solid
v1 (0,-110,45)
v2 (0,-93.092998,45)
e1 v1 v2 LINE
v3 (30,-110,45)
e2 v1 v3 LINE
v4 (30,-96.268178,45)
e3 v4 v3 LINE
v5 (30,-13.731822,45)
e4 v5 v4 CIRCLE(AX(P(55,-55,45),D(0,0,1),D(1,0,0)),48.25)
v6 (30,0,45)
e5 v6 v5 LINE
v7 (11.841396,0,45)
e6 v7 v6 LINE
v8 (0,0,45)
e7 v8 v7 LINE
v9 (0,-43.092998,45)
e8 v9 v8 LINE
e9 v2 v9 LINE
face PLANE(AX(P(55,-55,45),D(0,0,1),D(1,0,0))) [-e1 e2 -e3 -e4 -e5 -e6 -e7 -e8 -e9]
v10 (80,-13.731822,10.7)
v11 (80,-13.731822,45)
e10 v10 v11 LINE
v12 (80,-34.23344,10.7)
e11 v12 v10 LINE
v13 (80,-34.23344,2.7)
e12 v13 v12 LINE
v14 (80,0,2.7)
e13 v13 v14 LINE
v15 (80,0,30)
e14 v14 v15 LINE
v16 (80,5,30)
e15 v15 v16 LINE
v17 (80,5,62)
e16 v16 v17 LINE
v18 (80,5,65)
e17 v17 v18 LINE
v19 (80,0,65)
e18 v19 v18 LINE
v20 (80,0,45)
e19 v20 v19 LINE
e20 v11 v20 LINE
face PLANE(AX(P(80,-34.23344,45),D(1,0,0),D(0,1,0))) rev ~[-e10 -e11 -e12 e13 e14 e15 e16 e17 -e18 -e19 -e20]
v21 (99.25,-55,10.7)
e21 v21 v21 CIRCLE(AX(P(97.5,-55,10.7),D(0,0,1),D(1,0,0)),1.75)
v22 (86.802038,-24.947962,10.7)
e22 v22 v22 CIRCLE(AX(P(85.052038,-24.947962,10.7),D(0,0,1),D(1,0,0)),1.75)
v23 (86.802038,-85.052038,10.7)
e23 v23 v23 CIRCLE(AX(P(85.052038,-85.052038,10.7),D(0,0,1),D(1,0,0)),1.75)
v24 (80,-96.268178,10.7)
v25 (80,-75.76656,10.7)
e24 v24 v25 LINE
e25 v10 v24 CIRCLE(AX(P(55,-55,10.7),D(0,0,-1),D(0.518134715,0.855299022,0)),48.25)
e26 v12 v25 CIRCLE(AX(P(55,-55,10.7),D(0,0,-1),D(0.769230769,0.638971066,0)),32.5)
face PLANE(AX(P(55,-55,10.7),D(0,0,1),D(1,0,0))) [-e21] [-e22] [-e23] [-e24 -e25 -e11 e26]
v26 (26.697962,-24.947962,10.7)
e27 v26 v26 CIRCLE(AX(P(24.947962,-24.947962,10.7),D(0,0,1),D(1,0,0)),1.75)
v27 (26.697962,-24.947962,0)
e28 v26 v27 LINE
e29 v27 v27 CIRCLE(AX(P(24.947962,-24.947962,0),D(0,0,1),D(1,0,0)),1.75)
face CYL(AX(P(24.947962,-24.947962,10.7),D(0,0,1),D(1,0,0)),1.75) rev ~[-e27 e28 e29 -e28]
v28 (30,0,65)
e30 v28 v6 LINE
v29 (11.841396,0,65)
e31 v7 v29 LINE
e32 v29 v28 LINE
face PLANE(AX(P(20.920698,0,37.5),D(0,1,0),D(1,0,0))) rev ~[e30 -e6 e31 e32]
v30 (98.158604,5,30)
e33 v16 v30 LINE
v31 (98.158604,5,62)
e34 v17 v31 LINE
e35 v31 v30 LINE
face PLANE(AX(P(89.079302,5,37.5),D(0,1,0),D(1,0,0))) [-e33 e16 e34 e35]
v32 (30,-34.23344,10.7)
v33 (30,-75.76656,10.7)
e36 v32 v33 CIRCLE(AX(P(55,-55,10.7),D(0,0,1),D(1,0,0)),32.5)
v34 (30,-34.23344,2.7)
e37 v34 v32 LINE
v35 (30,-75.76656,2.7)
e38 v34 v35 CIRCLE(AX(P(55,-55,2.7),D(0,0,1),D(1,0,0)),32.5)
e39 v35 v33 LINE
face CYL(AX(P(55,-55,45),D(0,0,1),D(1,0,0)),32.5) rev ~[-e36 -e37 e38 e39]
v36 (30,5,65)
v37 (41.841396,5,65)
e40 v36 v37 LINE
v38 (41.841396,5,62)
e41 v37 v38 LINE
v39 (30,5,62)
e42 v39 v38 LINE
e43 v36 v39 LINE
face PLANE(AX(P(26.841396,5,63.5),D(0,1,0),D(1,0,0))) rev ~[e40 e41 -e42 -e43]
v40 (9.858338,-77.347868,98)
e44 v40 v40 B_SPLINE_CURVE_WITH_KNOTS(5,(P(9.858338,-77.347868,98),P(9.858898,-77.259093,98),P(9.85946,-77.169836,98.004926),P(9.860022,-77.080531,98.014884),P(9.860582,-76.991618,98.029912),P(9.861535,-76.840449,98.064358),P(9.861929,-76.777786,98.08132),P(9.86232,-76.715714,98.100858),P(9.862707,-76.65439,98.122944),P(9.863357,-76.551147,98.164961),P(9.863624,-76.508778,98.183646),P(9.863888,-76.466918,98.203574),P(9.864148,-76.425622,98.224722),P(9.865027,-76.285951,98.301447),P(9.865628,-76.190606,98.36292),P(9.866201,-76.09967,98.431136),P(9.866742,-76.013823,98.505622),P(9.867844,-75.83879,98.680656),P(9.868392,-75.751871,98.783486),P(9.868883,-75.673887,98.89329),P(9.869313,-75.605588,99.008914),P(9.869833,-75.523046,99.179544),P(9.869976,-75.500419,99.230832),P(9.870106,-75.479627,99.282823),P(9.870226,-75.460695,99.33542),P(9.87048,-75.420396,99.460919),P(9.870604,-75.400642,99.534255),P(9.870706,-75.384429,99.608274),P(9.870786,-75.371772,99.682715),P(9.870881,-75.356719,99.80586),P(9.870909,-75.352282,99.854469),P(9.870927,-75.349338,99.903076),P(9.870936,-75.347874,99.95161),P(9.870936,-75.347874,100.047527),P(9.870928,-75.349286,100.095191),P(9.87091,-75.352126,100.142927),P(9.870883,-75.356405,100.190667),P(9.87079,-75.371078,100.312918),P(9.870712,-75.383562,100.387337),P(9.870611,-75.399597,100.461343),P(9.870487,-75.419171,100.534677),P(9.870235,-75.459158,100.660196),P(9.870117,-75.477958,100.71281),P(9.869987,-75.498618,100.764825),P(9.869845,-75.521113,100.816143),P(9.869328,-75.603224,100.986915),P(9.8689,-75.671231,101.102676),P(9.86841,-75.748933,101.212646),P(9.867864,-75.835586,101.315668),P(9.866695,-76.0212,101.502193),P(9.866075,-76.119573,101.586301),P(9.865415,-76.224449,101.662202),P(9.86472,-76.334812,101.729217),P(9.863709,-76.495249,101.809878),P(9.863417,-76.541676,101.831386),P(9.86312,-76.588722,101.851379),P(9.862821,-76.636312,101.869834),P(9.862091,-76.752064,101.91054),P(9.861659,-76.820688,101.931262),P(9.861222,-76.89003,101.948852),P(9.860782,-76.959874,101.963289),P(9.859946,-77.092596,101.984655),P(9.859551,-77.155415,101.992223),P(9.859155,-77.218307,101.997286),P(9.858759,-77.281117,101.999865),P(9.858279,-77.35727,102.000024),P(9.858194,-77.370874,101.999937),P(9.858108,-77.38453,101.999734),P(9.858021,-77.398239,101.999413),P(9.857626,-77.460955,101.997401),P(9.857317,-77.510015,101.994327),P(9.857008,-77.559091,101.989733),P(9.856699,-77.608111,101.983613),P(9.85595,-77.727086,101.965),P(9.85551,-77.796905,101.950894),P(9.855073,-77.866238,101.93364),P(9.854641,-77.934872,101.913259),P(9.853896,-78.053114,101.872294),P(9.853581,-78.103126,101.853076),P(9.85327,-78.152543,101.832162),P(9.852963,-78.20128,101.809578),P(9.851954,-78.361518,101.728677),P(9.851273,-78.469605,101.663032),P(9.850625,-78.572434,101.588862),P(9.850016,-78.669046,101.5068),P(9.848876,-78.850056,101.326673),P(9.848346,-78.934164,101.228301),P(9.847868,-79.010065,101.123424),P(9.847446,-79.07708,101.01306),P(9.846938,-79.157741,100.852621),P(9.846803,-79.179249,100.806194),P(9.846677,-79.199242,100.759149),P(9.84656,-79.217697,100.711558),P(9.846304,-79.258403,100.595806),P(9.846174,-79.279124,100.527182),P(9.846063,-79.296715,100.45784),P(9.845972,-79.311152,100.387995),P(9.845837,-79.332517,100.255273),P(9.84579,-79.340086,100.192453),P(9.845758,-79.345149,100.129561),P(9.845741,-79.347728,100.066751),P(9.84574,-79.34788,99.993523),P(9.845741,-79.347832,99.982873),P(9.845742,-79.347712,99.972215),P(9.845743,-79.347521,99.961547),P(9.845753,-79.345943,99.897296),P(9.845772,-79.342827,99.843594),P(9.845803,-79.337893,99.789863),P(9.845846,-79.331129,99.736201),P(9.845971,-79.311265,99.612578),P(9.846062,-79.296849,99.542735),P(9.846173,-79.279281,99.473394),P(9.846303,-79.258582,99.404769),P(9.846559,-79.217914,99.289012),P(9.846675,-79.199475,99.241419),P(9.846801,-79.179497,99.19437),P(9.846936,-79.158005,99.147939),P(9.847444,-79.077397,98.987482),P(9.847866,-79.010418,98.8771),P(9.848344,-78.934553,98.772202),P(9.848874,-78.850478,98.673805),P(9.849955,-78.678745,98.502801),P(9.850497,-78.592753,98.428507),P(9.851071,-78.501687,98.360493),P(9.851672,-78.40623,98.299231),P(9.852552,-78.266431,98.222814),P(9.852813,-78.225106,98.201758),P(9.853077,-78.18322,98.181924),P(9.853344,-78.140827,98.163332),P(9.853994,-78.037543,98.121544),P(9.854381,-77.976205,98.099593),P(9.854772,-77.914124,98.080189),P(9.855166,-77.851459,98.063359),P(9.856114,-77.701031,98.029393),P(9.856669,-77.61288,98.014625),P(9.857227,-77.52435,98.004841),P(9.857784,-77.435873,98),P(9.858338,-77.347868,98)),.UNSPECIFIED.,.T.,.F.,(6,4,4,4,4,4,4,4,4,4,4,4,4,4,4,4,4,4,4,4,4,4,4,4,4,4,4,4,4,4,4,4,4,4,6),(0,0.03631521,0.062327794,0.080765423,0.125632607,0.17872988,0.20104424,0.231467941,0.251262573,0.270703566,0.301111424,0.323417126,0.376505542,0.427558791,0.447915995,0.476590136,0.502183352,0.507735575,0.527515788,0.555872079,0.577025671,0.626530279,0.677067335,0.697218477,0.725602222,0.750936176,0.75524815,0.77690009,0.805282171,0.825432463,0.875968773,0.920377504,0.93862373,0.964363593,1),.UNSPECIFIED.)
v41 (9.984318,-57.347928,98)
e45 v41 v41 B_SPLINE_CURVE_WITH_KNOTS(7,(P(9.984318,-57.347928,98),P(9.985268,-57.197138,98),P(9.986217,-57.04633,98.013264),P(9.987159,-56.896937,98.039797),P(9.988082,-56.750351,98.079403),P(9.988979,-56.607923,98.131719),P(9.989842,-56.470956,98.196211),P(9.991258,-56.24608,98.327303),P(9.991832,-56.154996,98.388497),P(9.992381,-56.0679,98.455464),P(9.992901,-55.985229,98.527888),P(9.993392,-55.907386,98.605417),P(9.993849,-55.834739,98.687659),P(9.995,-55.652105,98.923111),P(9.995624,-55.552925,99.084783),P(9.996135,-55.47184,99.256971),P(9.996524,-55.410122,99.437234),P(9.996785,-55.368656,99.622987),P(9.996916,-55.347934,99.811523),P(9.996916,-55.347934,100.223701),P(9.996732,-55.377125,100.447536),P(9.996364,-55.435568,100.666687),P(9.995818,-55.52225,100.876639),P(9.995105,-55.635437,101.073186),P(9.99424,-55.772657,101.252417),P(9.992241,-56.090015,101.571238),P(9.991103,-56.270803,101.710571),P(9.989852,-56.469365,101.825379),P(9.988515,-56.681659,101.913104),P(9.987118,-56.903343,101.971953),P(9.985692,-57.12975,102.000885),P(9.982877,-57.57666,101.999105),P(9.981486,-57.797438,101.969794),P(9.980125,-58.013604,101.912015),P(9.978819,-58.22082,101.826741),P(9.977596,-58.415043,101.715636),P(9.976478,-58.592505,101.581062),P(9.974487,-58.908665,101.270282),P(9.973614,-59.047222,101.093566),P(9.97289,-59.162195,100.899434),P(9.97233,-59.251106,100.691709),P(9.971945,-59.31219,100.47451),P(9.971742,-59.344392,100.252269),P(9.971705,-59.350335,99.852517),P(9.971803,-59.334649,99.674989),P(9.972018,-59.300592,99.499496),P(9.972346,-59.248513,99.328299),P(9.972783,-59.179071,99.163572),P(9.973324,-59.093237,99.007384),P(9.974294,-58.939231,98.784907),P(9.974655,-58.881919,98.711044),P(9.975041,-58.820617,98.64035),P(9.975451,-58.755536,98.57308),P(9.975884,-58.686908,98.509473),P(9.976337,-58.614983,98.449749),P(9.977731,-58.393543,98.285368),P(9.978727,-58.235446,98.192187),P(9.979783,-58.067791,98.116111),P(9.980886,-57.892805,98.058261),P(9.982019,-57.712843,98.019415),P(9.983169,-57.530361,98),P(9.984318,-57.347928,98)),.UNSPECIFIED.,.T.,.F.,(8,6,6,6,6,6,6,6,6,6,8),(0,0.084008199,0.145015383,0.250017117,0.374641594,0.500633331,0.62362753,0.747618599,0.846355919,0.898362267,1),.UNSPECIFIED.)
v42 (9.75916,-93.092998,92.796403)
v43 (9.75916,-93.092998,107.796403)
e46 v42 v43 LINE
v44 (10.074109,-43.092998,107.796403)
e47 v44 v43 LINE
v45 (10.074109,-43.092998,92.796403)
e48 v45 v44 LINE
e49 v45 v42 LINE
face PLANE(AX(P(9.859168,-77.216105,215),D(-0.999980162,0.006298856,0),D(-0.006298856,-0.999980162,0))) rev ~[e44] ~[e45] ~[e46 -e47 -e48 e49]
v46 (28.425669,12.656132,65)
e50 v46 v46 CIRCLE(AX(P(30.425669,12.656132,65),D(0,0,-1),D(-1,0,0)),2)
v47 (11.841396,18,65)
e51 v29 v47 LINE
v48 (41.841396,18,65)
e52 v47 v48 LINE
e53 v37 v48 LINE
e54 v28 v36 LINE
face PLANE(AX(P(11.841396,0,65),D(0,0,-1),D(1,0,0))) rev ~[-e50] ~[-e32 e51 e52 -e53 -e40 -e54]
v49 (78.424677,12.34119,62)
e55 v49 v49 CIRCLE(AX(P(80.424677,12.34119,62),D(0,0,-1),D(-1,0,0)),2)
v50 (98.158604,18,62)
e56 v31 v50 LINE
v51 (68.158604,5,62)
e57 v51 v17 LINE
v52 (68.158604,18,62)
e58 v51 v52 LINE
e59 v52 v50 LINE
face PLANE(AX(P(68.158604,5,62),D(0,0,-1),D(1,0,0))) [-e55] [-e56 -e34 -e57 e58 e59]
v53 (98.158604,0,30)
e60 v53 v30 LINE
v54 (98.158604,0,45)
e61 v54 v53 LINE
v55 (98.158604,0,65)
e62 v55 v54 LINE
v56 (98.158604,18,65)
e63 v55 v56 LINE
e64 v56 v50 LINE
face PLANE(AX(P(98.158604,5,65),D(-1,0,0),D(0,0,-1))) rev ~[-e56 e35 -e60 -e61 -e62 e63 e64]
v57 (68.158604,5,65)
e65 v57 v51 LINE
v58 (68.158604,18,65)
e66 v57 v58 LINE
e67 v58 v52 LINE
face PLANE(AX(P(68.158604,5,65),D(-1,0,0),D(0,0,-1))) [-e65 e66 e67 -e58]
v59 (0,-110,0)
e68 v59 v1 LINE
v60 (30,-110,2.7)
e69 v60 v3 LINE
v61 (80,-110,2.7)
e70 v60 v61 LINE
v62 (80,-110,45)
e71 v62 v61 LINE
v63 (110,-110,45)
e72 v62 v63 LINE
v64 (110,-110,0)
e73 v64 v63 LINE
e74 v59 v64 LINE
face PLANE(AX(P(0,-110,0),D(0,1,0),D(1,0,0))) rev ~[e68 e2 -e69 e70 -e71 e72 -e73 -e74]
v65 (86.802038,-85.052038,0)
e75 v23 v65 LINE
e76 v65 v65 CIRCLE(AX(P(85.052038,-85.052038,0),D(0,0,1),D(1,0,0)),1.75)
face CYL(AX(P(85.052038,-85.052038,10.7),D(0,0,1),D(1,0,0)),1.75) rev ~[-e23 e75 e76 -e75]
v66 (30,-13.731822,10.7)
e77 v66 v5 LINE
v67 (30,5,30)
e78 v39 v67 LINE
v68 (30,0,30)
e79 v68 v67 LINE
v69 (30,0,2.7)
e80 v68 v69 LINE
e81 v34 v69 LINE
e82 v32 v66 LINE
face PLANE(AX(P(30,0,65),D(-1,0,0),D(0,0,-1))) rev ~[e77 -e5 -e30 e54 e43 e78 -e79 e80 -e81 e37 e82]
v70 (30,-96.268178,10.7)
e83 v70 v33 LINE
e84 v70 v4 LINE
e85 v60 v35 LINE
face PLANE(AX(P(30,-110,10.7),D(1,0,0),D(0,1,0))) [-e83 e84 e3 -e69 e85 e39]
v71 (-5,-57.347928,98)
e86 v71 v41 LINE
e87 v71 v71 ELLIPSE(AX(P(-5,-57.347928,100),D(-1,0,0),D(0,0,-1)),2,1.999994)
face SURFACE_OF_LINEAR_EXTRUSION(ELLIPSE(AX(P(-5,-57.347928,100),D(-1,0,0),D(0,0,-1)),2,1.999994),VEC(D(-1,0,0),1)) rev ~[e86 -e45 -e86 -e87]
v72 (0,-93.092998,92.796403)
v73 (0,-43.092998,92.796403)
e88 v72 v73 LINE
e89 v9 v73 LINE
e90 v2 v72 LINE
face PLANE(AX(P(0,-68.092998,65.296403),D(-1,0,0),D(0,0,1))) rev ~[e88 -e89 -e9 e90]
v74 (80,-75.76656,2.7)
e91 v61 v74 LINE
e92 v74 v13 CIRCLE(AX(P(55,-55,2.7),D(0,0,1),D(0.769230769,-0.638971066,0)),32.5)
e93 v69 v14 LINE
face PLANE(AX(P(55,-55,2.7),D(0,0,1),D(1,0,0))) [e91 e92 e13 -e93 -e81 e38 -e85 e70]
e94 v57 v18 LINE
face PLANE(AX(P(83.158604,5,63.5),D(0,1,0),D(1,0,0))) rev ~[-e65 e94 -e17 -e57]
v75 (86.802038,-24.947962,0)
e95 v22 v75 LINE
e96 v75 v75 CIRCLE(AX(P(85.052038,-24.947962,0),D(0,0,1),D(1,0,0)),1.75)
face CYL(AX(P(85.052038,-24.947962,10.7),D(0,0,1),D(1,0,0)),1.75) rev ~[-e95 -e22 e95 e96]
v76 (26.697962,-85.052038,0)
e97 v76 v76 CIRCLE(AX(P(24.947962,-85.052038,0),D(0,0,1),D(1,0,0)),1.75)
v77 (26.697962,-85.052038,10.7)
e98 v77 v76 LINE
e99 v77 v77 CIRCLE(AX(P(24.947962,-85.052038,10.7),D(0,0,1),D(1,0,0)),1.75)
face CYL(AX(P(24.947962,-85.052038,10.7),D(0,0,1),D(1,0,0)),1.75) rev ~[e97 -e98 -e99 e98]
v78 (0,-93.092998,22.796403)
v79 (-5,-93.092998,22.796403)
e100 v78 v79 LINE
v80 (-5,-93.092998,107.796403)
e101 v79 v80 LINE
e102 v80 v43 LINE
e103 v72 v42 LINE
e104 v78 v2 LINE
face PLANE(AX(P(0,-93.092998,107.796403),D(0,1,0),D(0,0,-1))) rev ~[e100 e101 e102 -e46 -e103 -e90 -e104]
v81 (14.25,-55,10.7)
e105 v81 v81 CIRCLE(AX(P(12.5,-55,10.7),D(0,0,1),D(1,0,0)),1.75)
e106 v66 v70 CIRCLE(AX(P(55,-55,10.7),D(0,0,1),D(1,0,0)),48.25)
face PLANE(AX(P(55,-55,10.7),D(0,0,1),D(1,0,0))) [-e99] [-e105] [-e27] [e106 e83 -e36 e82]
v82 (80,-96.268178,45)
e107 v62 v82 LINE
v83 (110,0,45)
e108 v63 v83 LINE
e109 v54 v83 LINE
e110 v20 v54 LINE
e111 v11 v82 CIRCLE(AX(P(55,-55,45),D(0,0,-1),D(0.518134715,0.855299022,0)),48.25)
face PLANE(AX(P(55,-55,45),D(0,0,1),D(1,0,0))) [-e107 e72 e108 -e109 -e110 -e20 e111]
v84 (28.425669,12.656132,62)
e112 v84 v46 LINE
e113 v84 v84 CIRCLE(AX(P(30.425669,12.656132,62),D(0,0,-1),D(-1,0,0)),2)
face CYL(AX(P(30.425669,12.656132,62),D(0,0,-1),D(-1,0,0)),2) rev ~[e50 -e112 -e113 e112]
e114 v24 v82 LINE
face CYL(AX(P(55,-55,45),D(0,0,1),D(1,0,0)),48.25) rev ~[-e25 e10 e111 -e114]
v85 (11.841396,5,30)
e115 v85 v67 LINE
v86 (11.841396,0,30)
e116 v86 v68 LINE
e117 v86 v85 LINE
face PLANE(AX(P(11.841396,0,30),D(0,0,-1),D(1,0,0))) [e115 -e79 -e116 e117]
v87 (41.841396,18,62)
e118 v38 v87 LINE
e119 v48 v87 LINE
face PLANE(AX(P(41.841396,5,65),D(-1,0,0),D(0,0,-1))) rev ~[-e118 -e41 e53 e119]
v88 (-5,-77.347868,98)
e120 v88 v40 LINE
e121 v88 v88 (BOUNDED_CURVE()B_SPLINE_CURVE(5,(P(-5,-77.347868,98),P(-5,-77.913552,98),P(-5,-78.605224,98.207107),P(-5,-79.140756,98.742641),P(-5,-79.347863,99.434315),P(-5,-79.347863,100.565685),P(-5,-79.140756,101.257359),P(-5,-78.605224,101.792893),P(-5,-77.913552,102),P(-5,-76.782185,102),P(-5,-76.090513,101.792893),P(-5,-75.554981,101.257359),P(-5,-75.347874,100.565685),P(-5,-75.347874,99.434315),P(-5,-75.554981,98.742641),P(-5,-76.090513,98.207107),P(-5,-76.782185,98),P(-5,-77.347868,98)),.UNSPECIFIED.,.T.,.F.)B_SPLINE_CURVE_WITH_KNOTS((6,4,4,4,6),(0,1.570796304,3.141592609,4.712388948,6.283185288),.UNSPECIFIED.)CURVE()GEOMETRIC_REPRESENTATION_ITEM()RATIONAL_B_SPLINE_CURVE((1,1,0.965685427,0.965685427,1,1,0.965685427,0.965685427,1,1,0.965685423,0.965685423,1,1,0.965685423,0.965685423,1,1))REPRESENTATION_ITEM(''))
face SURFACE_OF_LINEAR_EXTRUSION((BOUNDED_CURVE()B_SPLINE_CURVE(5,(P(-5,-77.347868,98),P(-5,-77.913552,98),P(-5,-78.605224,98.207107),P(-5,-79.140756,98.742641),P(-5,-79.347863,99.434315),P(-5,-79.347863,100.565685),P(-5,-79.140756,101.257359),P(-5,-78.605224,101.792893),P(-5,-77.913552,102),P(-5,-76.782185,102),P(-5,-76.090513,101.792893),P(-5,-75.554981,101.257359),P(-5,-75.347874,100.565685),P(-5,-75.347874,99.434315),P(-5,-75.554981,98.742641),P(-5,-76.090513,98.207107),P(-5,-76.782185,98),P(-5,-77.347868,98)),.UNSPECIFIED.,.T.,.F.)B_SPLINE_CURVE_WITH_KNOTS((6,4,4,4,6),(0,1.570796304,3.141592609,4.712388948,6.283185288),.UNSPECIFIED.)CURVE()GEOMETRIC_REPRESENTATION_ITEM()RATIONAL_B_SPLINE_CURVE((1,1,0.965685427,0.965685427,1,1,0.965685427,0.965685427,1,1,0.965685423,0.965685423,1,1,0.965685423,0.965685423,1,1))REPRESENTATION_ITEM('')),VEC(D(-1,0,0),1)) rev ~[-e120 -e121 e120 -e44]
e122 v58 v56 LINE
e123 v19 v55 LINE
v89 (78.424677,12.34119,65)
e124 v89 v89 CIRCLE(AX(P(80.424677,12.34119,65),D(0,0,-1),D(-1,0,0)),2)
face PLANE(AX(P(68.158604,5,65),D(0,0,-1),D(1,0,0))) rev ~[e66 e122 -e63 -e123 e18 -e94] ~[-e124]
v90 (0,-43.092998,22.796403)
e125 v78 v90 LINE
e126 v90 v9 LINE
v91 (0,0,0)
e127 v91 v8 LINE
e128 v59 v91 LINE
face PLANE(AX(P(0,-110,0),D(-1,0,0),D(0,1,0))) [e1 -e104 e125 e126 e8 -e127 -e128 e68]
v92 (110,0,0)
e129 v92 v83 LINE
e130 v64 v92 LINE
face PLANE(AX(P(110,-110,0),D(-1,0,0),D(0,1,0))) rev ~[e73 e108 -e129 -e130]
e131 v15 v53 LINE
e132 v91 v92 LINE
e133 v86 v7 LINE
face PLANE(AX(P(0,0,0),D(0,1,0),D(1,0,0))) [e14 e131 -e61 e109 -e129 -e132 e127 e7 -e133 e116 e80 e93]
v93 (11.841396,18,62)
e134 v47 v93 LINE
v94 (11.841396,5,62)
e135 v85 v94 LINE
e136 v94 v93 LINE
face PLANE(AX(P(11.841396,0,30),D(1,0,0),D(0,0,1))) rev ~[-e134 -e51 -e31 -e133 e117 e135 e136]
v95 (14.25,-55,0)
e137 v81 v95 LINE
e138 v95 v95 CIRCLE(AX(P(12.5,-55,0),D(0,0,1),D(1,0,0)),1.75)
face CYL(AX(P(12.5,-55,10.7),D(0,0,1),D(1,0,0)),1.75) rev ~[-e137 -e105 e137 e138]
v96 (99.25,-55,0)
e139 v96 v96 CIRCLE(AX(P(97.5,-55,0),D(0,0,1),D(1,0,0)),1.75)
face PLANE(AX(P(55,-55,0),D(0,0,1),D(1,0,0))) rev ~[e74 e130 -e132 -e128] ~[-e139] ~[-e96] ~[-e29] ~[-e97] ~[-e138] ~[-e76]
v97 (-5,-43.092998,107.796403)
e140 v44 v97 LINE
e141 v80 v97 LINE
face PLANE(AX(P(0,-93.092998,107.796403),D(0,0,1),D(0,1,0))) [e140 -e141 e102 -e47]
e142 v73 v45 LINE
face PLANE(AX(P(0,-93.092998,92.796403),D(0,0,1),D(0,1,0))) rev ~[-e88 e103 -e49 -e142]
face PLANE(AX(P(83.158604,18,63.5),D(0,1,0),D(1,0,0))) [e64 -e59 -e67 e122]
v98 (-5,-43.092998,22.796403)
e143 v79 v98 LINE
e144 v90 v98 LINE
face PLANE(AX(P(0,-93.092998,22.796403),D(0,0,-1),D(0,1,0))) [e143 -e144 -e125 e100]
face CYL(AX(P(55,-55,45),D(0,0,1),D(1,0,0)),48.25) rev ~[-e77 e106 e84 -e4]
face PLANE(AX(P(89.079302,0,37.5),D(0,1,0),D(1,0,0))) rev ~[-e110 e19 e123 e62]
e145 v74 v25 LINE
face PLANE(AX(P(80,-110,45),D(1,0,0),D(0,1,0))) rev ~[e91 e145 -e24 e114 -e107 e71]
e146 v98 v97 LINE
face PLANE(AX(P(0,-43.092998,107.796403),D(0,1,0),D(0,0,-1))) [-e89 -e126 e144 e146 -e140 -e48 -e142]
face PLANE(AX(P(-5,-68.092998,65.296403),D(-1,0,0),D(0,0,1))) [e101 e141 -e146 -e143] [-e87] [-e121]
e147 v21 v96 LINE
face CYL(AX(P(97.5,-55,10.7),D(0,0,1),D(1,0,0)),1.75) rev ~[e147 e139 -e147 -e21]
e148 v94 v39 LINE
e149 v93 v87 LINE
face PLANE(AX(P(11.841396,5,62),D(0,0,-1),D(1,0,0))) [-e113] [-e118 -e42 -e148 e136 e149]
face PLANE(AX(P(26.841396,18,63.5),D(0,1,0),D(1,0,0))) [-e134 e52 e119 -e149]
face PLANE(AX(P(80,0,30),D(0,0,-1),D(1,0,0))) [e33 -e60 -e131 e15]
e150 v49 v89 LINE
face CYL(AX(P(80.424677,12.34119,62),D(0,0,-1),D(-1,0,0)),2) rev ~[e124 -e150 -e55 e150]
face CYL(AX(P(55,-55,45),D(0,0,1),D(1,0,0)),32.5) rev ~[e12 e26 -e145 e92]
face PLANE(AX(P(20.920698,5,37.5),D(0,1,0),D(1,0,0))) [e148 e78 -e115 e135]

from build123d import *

# Parameters (mm, degrees)
SKETCH_1_W          = 110
SKETCH_1_H          = 110
EXTRUDE_1_DEPTH     = 45
SKETCH_4_R          = 32.5
CUT_EXTRUDE_1_DEPTH = 42.3
SKETCH_5_R          = 48.25
CUT_EXTRUDE_2_DEPTH = 34.3
SKETCH_6_W          = 50
SKETCH_6_H          = 110
CUT_EXTRUDE_3_DEPTH = 8
CUT_EXTRUDE_4_DEPTH = 42.3
SKETCH_8_R          = 1.75
CUT_EXTRUDE_5_DEPTH = 160.3
SKETCH_9_W          = 18.158603558
SKETCH_9_H          = 15
SKETCH_9_H_2        = 20
EXTRUDE_2_DEPTH     = 5
SKETCH_10_W         = 30
SKETCH_10_H         = 3
EXTRUDE_3_DEPTH     = 13
SKETCH_11_R         = 2
CUT_EXTRUDE_6_DEPTH = 168.463428843
SKETCH_12_W         = 85
SKETCH_12_H         = 50
EXTRUDE_4_DEPTH     = 5
EXTRUDE_5_REACH     = 191.262
SKETCH_13_W         = 15
SKETCH_13_H         = 50
CUT_EXTRUDE_8_REACH = 194.211
SKETCH_15_RX        = 2
SKETCH_15_RY        = 1.999994073


with BuildPart() as part:
    # 草图1 → 凸台-拉伸1 (new body)
    with BuildSketch(Plane.XY):
        with Locations((55, -55)):
            Rectangle(SKETCH_1_W, SKETCH_1_H)
    extrude(amount=EXTRUDE_1_DEPTH)

    # 草图4 → 切除-拉伸1 (cut)
    with BuildSketch(Plane.XY.offset(45)):
        with Locations((55, -55)):
            Circle(SKETCH_4_R)
    extrude(amount=-CUT_EXTRUDE_1_DEPTH, mode=Mode.SUBTRACT)

    # 草图5 → 切除-拉伸2 (cut)
    with BuildSketch(Plane.XY.offset(45)):
        with Locations((55, -55)):
            Circle(SKETCH_5_R)
    extrude(amount=-CUT_EXTRUDE_2_DEPTH, mode=Mode.SUBTRACT)

    # 草图6 → 切除-拉伸3 (cut)
    with BuildSketch(Plane.XY.offset(10.7)):
        with Locations((55, -55)):
            Rectangle(SKETCH_6_W, SKETCH_6_H)
    extrude(amount=-CUT_EXTRUDE_3_DEPTH, mode=Mode.SUBTRACT)

    # 草图7 → 切除-拉伸4 (cut)
    with BuildSketch(Plane.XY.offset(45)):
        with BuildLine():
            Line((80, -34.233440343), (80, 0))
            Line((80, 0), (30, 0))
            Line((30, 0), (30, -34.233440343))
            ThreePointArc((30, -34.233440343), (22.5, -55), (30, -75.766559657))
            Line((30, -75.766559657), (30, -110))
            Line((30, -110), (80, -110))
            Line((80, -110), (80, -75.766559657))
            ThreePointArc((80, -75.766559657), (87.5, -55), (80, -34.233440343))
        make_face()
    extrude(amount=-CUT_EXTRUDE_4_DEPTH, mode=Mode.SUBTRACT)

    # 草图8 → 切除-拉伸5 (cut, through all)
    with BuildSketch(Plane.XY.offset(10.7)):
        with Locations((12.5, -55)):
            Circle(SKETCH_8_R)
        with Locations((24.9479618, -24.9479618)):
            Circle(SKETCH_8_R)
        with Locations((85.0520382, -24.9479618)):
            Circle(SKETCH_8_R)
        with Locations((97.5, -55)):
            Circle(SKETCH_8_R)
        with Locations((85.0520382, -85.0520382)):
            Circle(SKETCH_8_R)
        with Locations((24.9479618, -85.0520382)):
            Circle(SKETCH_8_R)
    extrude(amount=-CUT_EXTRUDE_5_DEPTH, mode=Mode.SUBTRACT)

    # 草图9 → 凸台-拉伸2 (add)
    with BuildSketch(Plane(origin=(0, 0, 0), x_dir=(1, 0, 0), z_dir=(0, 1, 0))):
        with Locations((20.920698221, -37.5)):
            Rectangle(SKETCH_9_W, SKETCH_9_H)
        with Locations((20.920698221, -55)):
            Rectangle(SKETCH_9_W, SKETCH_9_H_2)
        with Locations((89.079301779, -37.5)):
            Rectangle(SKETCH_9_W, SKETCH_9_H)
        with Locations((89.079301779, -55)):
            Rectangle(SKETCH_9_W, SKETCH_9_H_2)
    extrude(amount=EXTRUDE_2_DEPTH)

    # 草图10 → 凸台-拉伸3 (add)
    with BuildSketch(Plane(origin=(0, 5, 0), x_dir=(1, 0, 0), z_dir=(0, 1, 0))):
        with Locations((83.158603558, -63.5)):
            Rectangle(SKETCH_10_W, SKETCH_10_H)
        with Locations((26.841396442, -63.5)):
            Rectangle(SKETCH_10_W, SKETCH_10_H)
    extrude(amount=EXTRUDE_3_DEPTH)

    # 草图11 → 切除-拉伸6 (cut, through all)
    with BuildSketch(Plane(origin=(0, 0, 62), x_dir=(-1, 0, 0), z_dir=(0, 0, -1))):
        with Locations((-30.425668719, 12.656132332)):
            Circle(SKETCH_11_R)
        with Locations((-80.424676819, 12.34118954)):
            Circle(SKETCH_11_R)
    extrude(amount=-CUT_EXTRUDE_6_DEPTH, mode=Mode.SUBTRACT)

    # 草图12 → 凸台-拉伸4 (add)
    with BuildSketch(Plane.ZY):
        with Locations((65.296402905, -68.092997568)):
            Rectangle(SKETCH_12_W, SKETCH_12_H)
    extrude(amount=EXTRUDE_4_DEPTH)

    # 凸台-拉伸5: up to this plane
    extrude_5_end = Plane(origin=(9.859168453, -77.216105133, 215), z_dir=(-0.9999801620108199, 0.006298855833765048, 1.0454600148553557e-15))
    # 草图13 → 凸台-拉伸5 (add, up to the surface)
    with BuildSketch(Plane(origin=(0, 0, 0), x_dir=(0, 0, -1), z_dir=(1, 0, 0)), mode=Mode.PRIVATE) as extrude_5_sk1:
        with Locations((-100.296402905, -68.092997568)):
            Rectangle(SKETCH_13_W, SKETCH_13_H)
    extrude_5_tool1 = split(extrude(extrude_5_sk1.sketch, amount=EXTRUDE_5_REACH, mode=Mode.PRIVATE), bisect_by=extrude_5_end, keep=Keep.BOTH, mode=Mode.PRIVATE)
    add(extrude_5_tool1.solids().sort_by_distance((0, -68.092998, 100.296403))[0])

    # 切除-拉伸8: up to this plane
    cut_extrude_8_end = Plane(origin=(9.859168453, -77.216105133, 215), z_dir=(-0.9999801620108199, 0.006298855833765048, 1.0454600148553557e-15))
    # 草图15 → 切除-拉伸8 (cut, up to the surface)
    with BuildSketch(Plane.ZY.offset(5), mode=Mode.PRIVATE) as cut_extrude_8_sk1:
        with Locations(Location((100, -57.347927742), (0, 0, -180))):
            Ellipse(SKETCH_15_RX, SKETCH_15_RY)
    cut_extrude_8_tool1 = split(extrude(cut_extrude_8_sk1.sketch, amount=-CUT_EXTRUDE_8_REACH, mode=Mode.PRIVATE), bisect_by=cut_extrude_8_end, keep=Keep.BOTH, mode=Mode.PRIVATE)
    add(cut_extrude_8_tool1.solids().sort_by_distance((-5, -57.347928, 100))[0], mode=Mode.SUBTRACT)
    # 草图15 → 切除-拉伸8 (cut, up to the surface)
    with BuildSketch(Plane.ZY.offset(5), mode=Mode.PRIVATE) as cut_extrude_8_sk2:
        with BuildLine():
            add(Edge.make_bspline(
                [(102, -77.347868558), (102.000000089, -75.347874441), (100.000000045, -75.347874396), (98, -75.347874352), (98, -77.347868469)],
                knots=[3.141592609, 3.141592609, 3.141592609, 4.712388958, 4.712388958, 6.283185307, 6.283185307, 6.283185307], degree=2, weights=[1, 0.707106773, 1, 0.707106773, 1]))
            add(Edge.make_bspline(
                [(98, -77.347868469), (98, -79.347862497), (99.999999955, -79.347862542), (101.999999911, -79.347862586), (102, -77.347868558)],
                knots=[0, 0, 0, 1.570796304, 1.570796304, 3.141592609, 3.141592609, 3.141592609], degree=2, weights=[1, 0.707106789, 1, 0.707106789, 1]))
        make_face()
    cut_extrude_8_tool2 = split(extrude(cut_extrude_8_sk2.sketch, amount=-CUT_EXTRUDE_8_REACH, mode=Mode.PRIVATE), bisect_by=cut_extrude_8_end, keep=Keep.BOTH, mode=Mode.PRIVATE)
    add(cut_extrude_8_tool2.solids().sort_by_distance((-5, -77.347868, 100))[0], mode=Mode.SUBTRACT)


solid = part.part
